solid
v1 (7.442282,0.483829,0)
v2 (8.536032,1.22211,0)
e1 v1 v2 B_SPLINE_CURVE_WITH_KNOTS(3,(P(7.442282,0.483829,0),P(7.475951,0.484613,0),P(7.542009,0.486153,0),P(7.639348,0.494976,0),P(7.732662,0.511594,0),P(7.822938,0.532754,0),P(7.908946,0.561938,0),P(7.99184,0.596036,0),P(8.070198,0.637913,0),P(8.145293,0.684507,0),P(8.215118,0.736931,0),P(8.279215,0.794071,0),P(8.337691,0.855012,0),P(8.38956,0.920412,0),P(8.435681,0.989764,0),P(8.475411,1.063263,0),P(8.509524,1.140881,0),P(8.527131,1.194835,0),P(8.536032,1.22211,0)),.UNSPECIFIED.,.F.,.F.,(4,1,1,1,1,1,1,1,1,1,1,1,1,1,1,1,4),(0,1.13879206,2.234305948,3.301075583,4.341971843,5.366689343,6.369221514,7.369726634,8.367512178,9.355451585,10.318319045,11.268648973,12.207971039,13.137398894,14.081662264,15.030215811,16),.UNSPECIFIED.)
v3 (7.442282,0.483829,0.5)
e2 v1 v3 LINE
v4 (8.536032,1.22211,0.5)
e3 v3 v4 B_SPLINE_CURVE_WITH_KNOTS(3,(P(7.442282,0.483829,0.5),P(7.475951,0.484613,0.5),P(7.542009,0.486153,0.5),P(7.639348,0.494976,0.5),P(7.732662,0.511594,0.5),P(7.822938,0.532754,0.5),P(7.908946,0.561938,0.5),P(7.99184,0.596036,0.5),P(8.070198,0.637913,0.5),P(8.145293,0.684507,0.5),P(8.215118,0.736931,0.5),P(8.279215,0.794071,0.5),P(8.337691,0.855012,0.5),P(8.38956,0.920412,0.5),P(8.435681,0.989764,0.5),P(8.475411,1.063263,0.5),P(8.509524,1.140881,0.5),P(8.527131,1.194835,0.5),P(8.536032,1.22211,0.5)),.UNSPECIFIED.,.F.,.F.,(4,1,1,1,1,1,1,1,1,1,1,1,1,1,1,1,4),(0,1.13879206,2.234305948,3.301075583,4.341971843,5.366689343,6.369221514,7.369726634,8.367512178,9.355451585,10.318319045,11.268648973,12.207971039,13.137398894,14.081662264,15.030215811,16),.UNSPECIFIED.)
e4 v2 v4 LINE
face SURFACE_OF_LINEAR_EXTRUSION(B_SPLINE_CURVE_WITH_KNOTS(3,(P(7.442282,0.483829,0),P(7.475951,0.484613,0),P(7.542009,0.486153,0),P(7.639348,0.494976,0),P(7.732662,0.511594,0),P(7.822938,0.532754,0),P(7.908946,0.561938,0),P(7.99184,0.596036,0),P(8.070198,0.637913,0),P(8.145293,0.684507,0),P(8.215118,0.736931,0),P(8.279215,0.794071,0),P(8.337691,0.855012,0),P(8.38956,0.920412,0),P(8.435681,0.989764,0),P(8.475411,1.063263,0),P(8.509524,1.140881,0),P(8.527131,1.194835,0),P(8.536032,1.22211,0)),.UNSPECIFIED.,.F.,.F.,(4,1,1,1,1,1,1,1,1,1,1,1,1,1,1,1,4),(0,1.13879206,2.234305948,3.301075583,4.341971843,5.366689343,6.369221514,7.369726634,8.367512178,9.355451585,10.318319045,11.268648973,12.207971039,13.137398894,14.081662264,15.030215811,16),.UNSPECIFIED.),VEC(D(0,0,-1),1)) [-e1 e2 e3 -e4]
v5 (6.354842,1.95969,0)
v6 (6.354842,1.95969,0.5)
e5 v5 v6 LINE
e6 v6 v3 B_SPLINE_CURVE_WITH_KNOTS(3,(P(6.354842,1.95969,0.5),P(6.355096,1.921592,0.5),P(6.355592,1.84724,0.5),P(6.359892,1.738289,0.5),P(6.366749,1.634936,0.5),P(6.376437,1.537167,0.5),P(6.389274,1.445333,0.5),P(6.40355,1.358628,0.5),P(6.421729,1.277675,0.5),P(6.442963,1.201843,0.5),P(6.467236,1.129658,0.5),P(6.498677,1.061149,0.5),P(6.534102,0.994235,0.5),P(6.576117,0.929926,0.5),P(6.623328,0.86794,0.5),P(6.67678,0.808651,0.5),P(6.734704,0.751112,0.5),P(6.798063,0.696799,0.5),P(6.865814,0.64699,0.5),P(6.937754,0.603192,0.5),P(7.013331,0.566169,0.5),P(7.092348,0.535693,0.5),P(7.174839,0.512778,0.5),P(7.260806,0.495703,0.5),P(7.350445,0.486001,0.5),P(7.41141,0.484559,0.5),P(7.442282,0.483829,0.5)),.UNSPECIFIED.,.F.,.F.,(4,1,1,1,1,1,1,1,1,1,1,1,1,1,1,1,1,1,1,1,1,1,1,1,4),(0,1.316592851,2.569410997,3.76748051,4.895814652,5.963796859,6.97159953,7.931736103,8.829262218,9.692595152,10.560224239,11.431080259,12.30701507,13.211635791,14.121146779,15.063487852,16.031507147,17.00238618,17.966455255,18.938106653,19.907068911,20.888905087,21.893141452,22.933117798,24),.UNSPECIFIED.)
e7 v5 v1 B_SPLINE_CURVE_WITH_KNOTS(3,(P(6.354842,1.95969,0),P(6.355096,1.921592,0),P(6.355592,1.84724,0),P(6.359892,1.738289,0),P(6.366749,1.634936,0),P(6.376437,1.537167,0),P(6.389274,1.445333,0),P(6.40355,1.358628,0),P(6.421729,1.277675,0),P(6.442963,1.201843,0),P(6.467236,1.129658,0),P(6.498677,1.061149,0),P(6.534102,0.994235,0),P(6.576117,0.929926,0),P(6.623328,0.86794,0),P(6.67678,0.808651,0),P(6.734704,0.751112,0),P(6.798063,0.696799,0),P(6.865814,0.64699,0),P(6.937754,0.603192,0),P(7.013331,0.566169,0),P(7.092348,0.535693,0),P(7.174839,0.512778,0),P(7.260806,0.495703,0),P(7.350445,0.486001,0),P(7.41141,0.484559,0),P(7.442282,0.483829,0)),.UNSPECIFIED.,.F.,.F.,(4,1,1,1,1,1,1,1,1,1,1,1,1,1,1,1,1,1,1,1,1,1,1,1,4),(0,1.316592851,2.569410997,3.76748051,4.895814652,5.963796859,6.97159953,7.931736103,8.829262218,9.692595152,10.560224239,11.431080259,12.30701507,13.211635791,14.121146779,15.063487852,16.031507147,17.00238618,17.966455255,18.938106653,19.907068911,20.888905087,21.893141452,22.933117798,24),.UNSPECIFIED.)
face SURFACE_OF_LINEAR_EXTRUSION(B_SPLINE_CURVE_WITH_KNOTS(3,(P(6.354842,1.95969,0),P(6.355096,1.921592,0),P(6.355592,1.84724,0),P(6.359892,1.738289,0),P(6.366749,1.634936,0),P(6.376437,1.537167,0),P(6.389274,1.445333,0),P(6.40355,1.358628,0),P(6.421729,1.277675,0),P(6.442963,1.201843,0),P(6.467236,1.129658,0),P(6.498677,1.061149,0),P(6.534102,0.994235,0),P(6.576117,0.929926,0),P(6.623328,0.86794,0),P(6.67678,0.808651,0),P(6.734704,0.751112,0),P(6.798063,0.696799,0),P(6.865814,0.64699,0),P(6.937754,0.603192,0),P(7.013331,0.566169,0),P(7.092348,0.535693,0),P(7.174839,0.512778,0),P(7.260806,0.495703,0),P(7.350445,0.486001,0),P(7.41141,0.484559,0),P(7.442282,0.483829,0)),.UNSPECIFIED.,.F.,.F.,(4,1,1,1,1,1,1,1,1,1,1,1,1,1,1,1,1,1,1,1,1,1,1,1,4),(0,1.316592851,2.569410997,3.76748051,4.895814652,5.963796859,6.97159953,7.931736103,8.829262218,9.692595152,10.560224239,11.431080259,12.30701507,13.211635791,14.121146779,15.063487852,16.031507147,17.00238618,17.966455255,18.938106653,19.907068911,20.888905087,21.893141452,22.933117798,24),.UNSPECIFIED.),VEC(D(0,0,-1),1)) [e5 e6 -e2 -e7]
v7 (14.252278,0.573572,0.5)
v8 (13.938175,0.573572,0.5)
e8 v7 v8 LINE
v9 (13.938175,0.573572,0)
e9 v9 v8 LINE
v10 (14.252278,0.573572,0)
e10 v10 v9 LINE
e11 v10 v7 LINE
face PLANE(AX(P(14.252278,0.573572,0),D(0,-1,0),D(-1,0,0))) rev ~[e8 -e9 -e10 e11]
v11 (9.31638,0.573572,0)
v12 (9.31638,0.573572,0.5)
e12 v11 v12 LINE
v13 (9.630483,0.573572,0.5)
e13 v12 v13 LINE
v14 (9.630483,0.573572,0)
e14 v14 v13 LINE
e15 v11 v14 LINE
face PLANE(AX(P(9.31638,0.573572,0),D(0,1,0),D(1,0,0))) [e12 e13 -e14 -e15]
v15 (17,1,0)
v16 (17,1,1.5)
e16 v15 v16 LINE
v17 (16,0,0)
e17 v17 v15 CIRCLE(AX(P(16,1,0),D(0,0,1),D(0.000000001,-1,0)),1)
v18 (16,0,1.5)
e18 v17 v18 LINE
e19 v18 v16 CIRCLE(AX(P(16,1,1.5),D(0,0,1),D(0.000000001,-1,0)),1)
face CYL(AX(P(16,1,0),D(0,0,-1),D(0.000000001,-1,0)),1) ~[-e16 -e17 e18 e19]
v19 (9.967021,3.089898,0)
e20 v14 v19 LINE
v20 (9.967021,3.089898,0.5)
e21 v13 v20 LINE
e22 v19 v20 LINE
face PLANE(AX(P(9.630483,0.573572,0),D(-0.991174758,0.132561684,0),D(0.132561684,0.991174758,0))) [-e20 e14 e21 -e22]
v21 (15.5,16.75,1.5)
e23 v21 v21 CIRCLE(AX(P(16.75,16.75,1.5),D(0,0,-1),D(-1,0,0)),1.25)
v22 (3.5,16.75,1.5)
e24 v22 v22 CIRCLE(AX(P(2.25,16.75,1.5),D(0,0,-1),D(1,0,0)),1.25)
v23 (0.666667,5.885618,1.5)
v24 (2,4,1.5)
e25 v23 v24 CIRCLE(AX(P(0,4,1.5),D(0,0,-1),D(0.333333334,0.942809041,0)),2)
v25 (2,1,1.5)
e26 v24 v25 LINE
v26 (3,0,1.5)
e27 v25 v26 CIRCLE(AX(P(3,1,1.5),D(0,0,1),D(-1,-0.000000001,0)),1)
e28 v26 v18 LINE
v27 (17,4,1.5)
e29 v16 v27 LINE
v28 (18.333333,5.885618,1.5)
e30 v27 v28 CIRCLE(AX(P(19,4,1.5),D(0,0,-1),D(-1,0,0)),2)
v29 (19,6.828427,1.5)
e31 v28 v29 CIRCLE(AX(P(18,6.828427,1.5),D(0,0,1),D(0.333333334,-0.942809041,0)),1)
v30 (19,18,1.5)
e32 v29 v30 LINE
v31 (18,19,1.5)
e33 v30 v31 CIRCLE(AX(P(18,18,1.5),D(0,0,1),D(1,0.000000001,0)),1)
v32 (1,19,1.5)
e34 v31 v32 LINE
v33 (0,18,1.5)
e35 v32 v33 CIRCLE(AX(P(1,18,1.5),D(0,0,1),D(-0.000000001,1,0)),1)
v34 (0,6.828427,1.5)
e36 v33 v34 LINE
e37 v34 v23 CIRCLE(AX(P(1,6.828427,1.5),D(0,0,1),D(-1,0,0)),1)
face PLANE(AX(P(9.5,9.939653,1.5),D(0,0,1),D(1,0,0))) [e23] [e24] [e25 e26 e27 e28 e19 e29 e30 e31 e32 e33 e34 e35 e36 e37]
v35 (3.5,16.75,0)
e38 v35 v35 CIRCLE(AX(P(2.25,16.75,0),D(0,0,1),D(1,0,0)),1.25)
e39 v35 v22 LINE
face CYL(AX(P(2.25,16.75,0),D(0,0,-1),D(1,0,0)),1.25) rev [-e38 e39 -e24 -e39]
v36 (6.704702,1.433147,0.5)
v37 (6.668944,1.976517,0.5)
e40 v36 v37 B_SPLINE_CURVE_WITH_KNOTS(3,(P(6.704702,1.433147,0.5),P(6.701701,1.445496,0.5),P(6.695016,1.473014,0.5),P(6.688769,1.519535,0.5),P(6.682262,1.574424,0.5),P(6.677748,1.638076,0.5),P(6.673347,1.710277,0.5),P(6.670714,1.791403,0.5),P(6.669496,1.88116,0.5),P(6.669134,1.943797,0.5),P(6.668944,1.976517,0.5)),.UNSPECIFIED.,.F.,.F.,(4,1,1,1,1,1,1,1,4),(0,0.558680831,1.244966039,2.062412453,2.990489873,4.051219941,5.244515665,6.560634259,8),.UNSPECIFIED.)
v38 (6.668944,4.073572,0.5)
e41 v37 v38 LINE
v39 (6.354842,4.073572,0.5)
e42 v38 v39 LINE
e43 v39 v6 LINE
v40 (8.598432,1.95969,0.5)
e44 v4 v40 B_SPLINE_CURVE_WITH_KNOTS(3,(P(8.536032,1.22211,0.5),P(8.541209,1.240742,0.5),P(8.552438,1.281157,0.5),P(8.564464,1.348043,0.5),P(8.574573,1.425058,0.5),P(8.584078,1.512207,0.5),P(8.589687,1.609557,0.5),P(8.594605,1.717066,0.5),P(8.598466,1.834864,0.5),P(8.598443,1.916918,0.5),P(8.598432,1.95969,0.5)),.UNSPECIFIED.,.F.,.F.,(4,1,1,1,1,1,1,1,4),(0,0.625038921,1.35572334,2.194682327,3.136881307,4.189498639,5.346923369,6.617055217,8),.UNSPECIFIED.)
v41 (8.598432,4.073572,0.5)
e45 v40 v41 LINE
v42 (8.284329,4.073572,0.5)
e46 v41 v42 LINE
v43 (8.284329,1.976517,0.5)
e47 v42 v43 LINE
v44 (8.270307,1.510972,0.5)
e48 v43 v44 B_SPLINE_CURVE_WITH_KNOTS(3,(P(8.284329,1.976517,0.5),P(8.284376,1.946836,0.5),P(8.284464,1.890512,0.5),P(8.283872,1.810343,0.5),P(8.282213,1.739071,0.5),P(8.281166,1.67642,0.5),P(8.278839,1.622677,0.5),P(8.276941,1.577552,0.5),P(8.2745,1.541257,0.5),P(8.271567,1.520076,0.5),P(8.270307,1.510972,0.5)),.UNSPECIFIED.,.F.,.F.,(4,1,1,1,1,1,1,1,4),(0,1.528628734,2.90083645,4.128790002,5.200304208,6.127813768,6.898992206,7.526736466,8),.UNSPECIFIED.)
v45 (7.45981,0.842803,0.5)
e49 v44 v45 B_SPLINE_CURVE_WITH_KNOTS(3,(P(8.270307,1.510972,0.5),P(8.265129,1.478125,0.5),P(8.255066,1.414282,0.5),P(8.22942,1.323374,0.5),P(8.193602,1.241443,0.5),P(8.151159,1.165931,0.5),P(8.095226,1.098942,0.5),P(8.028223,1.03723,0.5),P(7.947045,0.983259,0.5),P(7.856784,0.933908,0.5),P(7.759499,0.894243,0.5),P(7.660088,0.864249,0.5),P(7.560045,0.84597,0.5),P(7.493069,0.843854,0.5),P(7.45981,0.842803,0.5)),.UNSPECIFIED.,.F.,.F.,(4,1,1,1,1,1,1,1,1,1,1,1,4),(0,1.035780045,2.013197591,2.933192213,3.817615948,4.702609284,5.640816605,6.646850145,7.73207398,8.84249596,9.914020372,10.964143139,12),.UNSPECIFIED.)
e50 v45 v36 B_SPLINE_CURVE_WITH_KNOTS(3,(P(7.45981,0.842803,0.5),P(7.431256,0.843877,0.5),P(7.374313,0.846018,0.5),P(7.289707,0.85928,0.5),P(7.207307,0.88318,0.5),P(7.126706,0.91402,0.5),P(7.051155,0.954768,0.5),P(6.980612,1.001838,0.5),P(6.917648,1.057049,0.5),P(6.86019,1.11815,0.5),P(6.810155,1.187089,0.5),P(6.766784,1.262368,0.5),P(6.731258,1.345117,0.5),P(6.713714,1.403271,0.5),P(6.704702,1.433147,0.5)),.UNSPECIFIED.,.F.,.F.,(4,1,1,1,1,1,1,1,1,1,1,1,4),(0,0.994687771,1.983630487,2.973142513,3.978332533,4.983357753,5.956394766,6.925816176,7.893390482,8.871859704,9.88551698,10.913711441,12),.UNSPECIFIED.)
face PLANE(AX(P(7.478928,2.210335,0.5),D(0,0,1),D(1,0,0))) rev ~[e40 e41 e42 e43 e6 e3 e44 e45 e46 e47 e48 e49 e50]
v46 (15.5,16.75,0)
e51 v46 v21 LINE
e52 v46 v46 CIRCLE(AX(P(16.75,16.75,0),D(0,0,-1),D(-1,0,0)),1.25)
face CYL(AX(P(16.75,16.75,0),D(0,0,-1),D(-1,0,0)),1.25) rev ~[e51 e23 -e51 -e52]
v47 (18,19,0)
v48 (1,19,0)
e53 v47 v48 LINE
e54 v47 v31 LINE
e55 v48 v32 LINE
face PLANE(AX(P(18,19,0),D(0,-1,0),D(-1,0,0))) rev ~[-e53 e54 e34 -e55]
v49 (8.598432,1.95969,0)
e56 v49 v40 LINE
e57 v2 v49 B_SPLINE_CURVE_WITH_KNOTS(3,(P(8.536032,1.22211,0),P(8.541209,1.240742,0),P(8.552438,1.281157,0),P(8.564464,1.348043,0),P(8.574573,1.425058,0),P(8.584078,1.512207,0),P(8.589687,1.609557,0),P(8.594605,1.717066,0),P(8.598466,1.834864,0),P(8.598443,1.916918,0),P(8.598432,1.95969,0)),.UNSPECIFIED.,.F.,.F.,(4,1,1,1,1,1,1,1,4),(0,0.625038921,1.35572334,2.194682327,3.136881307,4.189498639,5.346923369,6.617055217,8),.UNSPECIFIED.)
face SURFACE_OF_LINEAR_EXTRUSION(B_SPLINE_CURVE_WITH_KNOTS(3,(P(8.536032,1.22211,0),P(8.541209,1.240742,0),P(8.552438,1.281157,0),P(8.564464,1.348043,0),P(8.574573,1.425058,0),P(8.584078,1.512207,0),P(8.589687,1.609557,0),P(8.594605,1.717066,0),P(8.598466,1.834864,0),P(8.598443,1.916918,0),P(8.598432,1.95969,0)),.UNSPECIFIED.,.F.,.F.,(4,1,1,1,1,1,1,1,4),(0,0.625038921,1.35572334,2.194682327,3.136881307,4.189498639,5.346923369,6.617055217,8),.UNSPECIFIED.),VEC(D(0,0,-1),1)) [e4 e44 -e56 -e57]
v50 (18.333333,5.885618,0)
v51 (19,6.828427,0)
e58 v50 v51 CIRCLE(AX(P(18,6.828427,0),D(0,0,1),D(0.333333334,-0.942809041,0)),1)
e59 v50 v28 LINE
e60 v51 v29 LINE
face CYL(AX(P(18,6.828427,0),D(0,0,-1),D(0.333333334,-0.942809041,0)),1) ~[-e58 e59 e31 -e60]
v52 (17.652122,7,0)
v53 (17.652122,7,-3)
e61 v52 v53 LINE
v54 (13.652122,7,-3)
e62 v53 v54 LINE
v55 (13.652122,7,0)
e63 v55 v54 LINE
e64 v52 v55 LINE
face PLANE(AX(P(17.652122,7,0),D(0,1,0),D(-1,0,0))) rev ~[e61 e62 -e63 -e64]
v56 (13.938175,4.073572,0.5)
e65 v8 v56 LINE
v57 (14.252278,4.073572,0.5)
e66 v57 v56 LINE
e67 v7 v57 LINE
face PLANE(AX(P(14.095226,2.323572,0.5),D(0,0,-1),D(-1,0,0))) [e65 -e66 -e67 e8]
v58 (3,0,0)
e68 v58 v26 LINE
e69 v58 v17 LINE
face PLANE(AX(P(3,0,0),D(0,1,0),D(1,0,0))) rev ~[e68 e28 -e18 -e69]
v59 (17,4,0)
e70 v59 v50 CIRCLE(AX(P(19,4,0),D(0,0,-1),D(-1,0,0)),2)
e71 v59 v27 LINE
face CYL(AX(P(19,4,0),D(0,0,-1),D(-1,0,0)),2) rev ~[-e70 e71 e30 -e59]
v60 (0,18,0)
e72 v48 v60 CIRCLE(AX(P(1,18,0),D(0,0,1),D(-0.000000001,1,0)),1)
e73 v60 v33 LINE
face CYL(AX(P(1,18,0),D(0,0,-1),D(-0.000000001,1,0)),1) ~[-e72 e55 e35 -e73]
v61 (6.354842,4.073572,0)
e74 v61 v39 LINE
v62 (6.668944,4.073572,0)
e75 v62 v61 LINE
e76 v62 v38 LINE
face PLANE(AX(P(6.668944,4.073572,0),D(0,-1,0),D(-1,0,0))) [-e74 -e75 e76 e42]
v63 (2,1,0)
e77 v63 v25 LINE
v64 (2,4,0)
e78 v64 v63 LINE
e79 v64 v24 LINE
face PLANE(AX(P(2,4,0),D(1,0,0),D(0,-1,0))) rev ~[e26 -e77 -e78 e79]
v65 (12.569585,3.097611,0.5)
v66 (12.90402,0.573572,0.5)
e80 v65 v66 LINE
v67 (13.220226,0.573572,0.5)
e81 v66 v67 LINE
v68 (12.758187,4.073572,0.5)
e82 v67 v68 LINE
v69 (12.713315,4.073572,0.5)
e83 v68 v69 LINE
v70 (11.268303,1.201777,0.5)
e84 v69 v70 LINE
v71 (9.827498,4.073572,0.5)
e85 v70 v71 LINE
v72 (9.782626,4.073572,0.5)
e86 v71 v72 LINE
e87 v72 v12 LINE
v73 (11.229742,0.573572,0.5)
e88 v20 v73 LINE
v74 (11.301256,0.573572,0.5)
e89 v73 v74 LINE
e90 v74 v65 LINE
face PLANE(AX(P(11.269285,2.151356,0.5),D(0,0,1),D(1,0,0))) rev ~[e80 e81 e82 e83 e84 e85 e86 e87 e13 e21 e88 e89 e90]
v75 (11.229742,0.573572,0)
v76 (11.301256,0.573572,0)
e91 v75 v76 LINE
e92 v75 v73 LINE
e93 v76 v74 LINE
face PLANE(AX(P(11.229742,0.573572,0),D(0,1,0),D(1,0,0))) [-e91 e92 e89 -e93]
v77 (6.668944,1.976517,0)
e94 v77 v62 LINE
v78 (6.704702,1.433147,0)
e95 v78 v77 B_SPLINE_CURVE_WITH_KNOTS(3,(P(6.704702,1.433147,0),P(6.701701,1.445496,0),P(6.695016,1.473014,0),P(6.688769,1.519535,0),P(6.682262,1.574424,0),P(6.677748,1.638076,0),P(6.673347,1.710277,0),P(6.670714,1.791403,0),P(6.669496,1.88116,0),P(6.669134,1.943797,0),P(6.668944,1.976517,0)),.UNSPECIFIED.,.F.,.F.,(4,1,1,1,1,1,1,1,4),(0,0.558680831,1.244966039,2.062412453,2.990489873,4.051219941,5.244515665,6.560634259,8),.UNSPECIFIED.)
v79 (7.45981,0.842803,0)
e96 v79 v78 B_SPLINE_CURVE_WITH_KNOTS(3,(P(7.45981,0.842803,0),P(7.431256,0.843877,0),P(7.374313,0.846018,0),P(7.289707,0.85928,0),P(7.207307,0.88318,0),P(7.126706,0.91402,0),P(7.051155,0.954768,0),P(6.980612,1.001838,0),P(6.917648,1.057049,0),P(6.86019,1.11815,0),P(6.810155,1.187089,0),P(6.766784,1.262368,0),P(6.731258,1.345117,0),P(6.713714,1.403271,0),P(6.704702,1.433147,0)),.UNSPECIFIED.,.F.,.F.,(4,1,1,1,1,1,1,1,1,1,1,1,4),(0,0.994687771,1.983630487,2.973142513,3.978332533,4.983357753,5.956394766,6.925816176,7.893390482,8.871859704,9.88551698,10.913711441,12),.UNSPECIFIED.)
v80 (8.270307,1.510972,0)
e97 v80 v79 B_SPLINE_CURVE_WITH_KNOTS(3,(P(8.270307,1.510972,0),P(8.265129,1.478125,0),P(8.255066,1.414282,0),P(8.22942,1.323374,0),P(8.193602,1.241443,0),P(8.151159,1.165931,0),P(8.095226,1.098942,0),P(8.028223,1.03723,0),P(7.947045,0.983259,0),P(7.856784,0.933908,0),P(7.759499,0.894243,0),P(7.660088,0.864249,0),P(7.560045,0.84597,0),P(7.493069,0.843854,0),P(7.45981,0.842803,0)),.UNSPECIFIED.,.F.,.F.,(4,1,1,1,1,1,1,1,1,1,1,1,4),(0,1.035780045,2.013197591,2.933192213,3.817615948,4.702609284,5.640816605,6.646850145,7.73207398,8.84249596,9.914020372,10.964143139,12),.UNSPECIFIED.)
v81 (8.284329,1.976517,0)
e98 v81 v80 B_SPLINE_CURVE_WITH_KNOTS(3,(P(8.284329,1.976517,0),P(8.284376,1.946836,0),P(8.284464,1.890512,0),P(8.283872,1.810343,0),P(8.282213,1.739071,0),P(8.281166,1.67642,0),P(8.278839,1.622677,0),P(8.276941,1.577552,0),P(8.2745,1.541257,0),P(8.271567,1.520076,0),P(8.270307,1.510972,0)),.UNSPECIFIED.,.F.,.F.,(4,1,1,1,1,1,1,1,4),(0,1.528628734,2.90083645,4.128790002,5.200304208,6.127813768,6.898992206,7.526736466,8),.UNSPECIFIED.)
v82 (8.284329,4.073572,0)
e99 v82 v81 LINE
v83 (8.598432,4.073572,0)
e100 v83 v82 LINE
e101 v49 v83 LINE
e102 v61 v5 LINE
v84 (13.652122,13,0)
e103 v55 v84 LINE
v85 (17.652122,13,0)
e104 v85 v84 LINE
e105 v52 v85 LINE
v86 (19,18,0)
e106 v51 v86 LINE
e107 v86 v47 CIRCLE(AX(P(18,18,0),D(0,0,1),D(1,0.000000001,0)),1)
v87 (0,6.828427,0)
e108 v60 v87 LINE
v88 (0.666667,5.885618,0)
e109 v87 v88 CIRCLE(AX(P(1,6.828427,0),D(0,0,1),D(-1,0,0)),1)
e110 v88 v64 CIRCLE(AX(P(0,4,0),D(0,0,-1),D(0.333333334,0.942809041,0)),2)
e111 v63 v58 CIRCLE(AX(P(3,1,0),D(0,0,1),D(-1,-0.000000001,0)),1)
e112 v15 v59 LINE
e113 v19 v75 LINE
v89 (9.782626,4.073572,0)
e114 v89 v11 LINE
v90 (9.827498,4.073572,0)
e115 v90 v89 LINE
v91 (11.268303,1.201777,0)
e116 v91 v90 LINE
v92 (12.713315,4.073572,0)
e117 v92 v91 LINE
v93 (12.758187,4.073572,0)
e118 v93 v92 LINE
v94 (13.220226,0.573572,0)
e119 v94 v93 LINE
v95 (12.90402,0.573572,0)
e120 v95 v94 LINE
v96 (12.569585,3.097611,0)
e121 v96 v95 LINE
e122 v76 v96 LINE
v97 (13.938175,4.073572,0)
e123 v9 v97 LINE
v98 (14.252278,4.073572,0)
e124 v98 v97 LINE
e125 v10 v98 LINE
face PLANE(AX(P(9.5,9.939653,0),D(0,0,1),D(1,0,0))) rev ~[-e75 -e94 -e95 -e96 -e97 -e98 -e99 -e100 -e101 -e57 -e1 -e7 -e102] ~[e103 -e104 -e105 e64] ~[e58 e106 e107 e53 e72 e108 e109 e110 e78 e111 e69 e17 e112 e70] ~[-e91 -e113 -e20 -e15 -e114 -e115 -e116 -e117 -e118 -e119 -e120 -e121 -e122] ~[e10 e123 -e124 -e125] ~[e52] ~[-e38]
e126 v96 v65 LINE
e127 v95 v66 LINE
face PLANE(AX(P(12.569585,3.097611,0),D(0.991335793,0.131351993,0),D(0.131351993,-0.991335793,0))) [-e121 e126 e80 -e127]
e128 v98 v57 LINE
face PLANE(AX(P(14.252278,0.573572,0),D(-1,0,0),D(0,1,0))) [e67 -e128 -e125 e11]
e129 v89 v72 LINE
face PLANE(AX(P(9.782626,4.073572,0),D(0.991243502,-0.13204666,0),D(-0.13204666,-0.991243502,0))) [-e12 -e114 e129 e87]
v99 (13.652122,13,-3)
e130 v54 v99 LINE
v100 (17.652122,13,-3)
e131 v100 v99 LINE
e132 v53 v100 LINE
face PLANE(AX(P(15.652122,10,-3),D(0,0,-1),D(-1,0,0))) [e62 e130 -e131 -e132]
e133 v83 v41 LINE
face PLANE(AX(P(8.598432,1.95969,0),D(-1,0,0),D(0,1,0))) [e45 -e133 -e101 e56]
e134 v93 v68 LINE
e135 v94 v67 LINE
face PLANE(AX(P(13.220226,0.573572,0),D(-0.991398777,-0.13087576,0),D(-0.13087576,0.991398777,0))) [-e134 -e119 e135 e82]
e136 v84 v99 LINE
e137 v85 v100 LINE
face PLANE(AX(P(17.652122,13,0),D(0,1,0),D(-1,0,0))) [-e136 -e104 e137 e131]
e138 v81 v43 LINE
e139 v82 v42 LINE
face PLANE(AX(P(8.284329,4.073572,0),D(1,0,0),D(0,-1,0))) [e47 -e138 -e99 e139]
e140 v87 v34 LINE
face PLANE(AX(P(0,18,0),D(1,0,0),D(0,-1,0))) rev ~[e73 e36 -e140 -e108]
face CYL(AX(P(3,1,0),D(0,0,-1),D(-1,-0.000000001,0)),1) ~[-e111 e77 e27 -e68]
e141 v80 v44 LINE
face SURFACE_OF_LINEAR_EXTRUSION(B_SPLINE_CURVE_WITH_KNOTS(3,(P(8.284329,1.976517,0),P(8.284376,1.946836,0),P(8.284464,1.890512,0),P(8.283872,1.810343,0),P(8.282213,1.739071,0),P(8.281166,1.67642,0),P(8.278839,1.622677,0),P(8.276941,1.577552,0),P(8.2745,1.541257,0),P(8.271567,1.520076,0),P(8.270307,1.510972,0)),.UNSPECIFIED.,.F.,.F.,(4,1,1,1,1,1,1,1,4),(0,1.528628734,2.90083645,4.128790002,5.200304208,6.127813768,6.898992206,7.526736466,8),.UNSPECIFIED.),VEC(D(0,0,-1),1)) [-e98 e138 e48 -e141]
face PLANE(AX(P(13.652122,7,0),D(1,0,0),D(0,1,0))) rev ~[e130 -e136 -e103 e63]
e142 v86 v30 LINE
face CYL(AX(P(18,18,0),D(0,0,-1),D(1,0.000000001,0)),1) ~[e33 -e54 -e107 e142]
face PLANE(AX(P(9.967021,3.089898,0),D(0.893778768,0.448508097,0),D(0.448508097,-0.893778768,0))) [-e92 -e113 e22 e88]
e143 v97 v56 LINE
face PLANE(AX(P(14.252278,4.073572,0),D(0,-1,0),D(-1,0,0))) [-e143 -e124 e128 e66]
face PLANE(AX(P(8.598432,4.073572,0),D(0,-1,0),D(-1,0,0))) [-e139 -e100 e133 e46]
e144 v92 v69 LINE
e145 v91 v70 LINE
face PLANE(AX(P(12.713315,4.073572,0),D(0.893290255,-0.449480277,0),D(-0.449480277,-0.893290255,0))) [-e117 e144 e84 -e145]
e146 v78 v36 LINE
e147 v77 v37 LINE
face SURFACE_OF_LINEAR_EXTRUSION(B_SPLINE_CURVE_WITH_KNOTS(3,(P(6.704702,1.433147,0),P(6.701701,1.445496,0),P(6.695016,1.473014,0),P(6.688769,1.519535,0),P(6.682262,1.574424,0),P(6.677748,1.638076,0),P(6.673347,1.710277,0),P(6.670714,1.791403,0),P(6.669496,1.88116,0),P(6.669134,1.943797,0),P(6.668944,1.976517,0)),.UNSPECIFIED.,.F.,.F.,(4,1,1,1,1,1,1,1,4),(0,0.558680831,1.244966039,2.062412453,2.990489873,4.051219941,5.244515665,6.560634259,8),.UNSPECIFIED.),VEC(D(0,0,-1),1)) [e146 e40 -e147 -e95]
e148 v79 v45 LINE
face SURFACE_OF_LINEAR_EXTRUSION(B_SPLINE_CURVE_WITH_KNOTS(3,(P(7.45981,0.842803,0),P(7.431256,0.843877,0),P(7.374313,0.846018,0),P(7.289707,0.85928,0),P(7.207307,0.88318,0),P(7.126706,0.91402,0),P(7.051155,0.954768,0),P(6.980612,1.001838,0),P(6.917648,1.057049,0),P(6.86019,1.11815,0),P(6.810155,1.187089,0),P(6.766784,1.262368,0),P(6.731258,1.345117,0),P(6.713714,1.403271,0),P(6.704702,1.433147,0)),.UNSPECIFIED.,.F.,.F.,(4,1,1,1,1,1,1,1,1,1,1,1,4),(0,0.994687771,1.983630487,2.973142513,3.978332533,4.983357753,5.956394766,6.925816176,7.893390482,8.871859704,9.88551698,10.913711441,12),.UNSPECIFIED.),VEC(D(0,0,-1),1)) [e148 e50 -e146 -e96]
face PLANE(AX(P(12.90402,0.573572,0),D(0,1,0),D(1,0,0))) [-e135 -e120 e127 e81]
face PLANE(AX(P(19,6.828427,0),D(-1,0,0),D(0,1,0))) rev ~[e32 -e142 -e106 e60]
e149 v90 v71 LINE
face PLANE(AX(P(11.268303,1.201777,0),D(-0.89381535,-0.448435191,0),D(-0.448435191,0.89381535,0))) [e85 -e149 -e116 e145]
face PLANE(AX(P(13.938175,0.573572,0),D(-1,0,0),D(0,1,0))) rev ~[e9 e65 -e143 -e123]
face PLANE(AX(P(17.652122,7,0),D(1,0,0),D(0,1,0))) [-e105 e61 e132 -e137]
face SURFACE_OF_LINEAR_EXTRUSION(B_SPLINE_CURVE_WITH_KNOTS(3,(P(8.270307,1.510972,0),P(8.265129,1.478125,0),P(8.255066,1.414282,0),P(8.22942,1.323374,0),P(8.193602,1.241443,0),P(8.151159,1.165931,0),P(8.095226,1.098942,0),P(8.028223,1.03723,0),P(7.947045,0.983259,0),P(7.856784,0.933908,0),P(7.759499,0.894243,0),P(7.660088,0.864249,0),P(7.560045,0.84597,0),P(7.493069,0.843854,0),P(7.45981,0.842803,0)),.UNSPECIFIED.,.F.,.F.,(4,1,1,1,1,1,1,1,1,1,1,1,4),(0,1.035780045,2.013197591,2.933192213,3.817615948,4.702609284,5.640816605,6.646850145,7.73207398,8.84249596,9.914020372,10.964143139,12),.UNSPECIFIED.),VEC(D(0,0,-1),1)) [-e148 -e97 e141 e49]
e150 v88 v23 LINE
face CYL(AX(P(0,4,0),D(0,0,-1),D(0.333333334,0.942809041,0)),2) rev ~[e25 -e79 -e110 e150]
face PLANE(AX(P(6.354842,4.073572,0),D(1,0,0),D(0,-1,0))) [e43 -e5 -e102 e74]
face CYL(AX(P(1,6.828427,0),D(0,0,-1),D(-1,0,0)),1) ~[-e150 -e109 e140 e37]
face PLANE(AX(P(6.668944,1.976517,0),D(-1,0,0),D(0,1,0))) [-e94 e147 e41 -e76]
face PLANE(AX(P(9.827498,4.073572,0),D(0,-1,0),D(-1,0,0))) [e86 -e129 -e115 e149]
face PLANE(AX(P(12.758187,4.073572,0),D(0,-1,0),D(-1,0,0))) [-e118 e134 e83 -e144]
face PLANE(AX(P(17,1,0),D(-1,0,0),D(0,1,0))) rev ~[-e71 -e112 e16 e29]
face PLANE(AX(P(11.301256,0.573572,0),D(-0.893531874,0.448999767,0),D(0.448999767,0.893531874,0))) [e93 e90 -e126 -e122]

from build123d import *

# Parameters (mm, degrees)
BOSS_EXTRUDE1_DEPTH = 1.5
SKETCH2_R           = 1.25
CUT_EXTRUDE1_DEPTH  = 27.911893282
SKETCH3_W           = 4
SKETCH3_H           = 6
BOSS_EXTRUDE2_DEPTH = 3
SKETCH4_W           = 0.314102564
SKETCH4_H           = 3.5
CUT_EXTRUDE2_DEPTH  = 0.5


with BuildPart() as part:
    # Sketch1 → Boss-Extrude1 (new body)
    with BuildSketch(Plane.XY):
        with BuildLine():
            Line((3, 0), (16, 0))
            ThreePointArc((16, 0), (16.707106781, 0.292893219), (17, 1))
            Line((17, 1), (17, 4))
            ThreePointArc((17, 4), (17.367006838, 5.154700538), (18.333333333, 5.885618083))
            ThreePointArc((18.333333333, 5.885618083), (18.816496581, 6.251076856), (19, 6.828427125))
            Line((19, 6.828427125), (19, 18))
            ThreePointArc((19, 18), (18.707106781, 18.707106781), (18, 19))
            Line((18, 19), (1, 19))
            ThreePointArc((1, 19), (0.292893219, 18.707106781), (0, 18))
            Line((0, 18), (0, 6.828427125))
            ThreePointArc((0, 6.828427125), (0.183503419, 6.251076856), (0.666666667, 5.885618083))
            ThreePointArc((0.666666667, 5.885618083), (1.632993162, 5.154700538), (2, 4))
            Line((2, 4), (2, 1))
            ThreePointArc((2, 1), (2.292893219, 0.292893219), (3, 0))
        make_face()
    extrude(amount=BOSS_EXTRUDE1_DEPTH)

    # Sketch2 → Cut-Extrude1 (cut, through all)
    with BuildSketch(Plane(origin=(0, 0, 0), x_dir=(-1, 0, 0), z_dir=(0, 0, -1))):
        with Locations((-16.75, 16.75)):
            Circle(SKETCH2_R)
    cut_extrude1 = extrude(amount=-CUT_EXTRUDE1_DEPTH, mode=Mode.SUBTRACT)

    # Mirror1: Cut-Extrude1 across plane
    add(cut_extrude1.mirror(Plane.ZY.offset(-9.5)), mode=Mode.SUBTRACT)

    # Sketch3 → Boss-Extrude2 (add)
    with BuildSketch(Plane(origin=(0, 0, 0), x_dir=(-1, 0, 0), z_dir=(0, 0, -1))):
        with Locations((-15.652122357, 10)):
            Rectangle(SKETCH3_W, SKETCH3_H)
    extrude(amount=BOSS_EXTRUDE2_DEPTH)

    # Sketch4 → Cut-Extrude2 (cut)
    with BuildSketch(Plane(origin=(0, 0, 0), x_dir=(-1, 0, 0), z_dir=(0, 0, -1))):
        with Locations((-14.095226395, 2.323572114)):
            Rectangle(SKETCH4_W, SKETCH4_H)
        Polygon((-13.220226395, 0.573572114), (-12.758187132, 4.073572114), (-12.713315337, 4.073572114), (-11.268303318, 1.201777242), (-9.82749803, 4.073572114), (-9.782626235, 4.073572114), (-9.316380241, 0.573572114), (-9.630482805, 0.573572114), (-9.967021267, 3.089898236), (-11.229741619, 0.573572114), (-11.301256042, 0.573572114), (-12.569585369, 3.097610576), (-12.904020466, 0.573572114), align=None)
        with BuildLine():
            Line((-8.598431523, 4.073572114), (-8.284328959, 4.073572114))
            Line((-8.284328959, 4.073572114), (-8.284328959, 1.976516826))
            add(Edge.make_bspline(
                [(-8.284328959, 1.976516826), (-8.284375703, 1.94683609), (-8.284464408, 1.890511779), (-8.283871894, 1.810343478), (-8.282212526, 1.739071019), (-8.281166366, 1.676419672), (-8.278839032, 1.622676924), (-8.276940986, 1.577551614), (-8.274500429, 1.541257411), (-8.271567311, 1.520076485), (-8.270306523, 1.510971954)],
                knots=[0, 0, 0, 0, 1.528628734, 2.90083645, 4.128790002, 5.200304208, 6.127813768, 6.898992206, 7.526736466, 8, 8, 8, 8], degree=3))
            add(Edge.make_bspline(
                [(-8.270306523, 1.510971954), (-8.265129064, 1.478125191), (-8.255065878, 1.414282461), (-8.2294195, 1.32337418), (-8.193601999, 1.241442721), (-8.151158957, 1.16593143), (-8.095226345, 1.09894207), (-8.02822281, 1.037230417), (-7.947045041, 0.983258613), (-7.856784436, 0.933907801), (-7.759499198, 0.894242719), (-7.660087932, 0.864249354), (-7.560044953, 0.845970454), (-7.493068788, 0.843853915), (-7.459809728, 0.842802883)],
                knots=[0, 0, 0, 0, 1.035780045, 2.013197591, 2.933192213, 3.817615948, 4.702609284, 5.640816605, 6.646850145, 7.73207398, 8.84249596, 9.914020372, 10.964143139, 12, 12, 12, 12], degree=3))
            add(Edge.make_bspline(
                [(-7.459809728, 0.842802883), (-7.431255988, 0.843876734), (-7.374313426, 0.846018232), (-7.289706995, 0.859279663), (-7.207306887, 0.883180229), (-7.126706207, 0.914019987), (-7.051155222, 0.954767578), (-6.98061178, 1.001838418), (-6.917647846, 1.057049294), (-6.860189848, 1.118149638), (-6.810154912, 1.187089438), (-6.766783771, 1.262367576), (-6.731257841, 1.345116923), (-6.713714316, 1.403271345), (-6.704701555, 1.433147435)],
                knots=[0, 0, 0, 0, 0.994687771, 1.983630487, 2.973142513, 3.978332533, 4.983357753, 5.956394766, 6.925816176, 7.893390482, 8.871859704, 9.88551698, 10.913711441, 12, 12, 12, 12], degree=3))
            add(Edge.make_bspline(
                [(-6.704701555, 1.433147435), (-6.70170143, 1.445496009), (-6.695015942, 1.473013609), (-6.688768897, 1.5195349), (-6.682262371, 1.574424264), (-6.677747801, 1.638076076), (-6.673346581, 1.710277049), (-6.670713508, 1.791403307), (-6.669496475, 1.881160267), (-6.669133795, 1.943797429), (-6.668944344, 1.976516826)],
                knots=[0, 0, 0, 0, 0.558680831, 1.244966039, 2.062412453, 2.990489873, 4.051219941, 5.244515665, 6.560634259, 8, 8, 8, 8], degree=3))
            Line((-6.668944344, 1.976516826), (-6.668944344, 4.073572114))
            Line((-6.668944344, 4.073572114), (-6.35484178, 4.073572114))
            Line((-6.35484178, 4.073572114), (-6.35484178, 1.959689903))
            add(Edge.make_bspline(
                [(-6.35484178, 1.959689903), (-6.3550959, 1.921591524), (-6.355591831, 1.847240221), (-6.359892408, 1.738288862), (-6.366749408, 1.63493588), (-6.376437496, 1.537167384), (-6.389274499, 1.445333225), (-6.403549719, 1.358628457), (-6.421729252, 1.277675464), (-6.442962654, 1.201843046), (-6.467236202, 1.129657533), (-6.49867735, 1.061148918), (-6.53410185, 0.994234519), (-6.576116503, 0.92992641), (-6.623327885, 0.867939856), (-6.676779566, 0.808650781), (-6.734703727, 0.751111735), (-6.798063287, 0.696798669), (-6.865813812, 0.646989992), (-6.93775377, 0.603192221), (-7.013330539, 0.566168604), (-7.092347666, 0.535692679), (-7.174838868, 0.51277808), (-7.260806228, 0.495702924), (-7.350445421, 0.486000627), (-7.411410078, 0.484558697), (-7.442281683, 0.483828524)],
                knots=[0, 0, 0, 0, 1.316592851, 2.569410997, 3.76748051, 4.895814652, 5.963796859, 6.97159953, 7.931736103, 8.829262218, 9.692595152, 10.560224239, 11.431080259, 12.30701507, 13.211635791, 14.121146779, 15.063487852, 16.031507147, 17.00238618, 17.966455255, 18.938106653, 19.907068911, 20.888905087, 21.893141452, 22.933117798, 24, 24, 24, 24], degree=3))
            add(Edge.make_bspline(
                [(-7.442281683, 0.483828524), (-7.475950786, 0.48461329), (-7.542009445, 0.486152996), (-7.639347512, 0.494975746), (-7.732661709, 0.511594141), (-7.822937586, 0.532754085), (-7.908946083, 0.561937822), (-7.991839527, 0.596035947), (-8.070198208, 0.637913207), (-8.145293337, 0.6845066), (-8.215118093, 0.736931238), (-8.279215496, 0.794071412), (-8.337691367, 0.855011789), (-8.389560063, 0.920412155), (-8.435680948, 0.989763862), (-8.475411161, 1.063263102), (-8.509524405, 1.140881418), (-8.527130972, 1.194834619), (-8.536031683, 1.222109774)],
                knots=[0, 0, 0, 0, 1.13879206, 2.234305948, 3.301075583, 4.341971843, 5.366689343, 6.369221514, 7.369726634, 8.367512178, 9.355451585, 10.318319045, 11.268648973, 12.207971039, 13.137398894, 14.081662264, 15.030215811, 16, 16, 16, 16], degree=3))
            add(Edge.make_bspline(
                [(-8.536031683, 1.222109774), (-8.541208842, 1.240742349), (-8.552438213, 1.281156818), (-8.564463511, 1.348043306), (-8.574572592, 1.425058224), (-8.584078151, 1.512206842), (-8.589687108, 1.609556709), (-8.594604547, 1.717065625), (-8.598466166, 1.834863587), (-8.598443394, 1.916918102), (-8.598431523, 1.959689903)],
                knots=[0, 0, 0, 0, 0.625038921, 1.35572334, 2.194682327, 3.136881307, 4.189498639, 5.346923369, 6.617055217, 8, 8, 8, 8], degree=3))
            Line((-8.598431523, 1.959689903), (-8.598431523, 4.073572114))
        make_face()
    extrude(amount=-CUT_EXTRUDE2_DEPTH, mode=Mode.SUBTRACT)


solid = part.part
